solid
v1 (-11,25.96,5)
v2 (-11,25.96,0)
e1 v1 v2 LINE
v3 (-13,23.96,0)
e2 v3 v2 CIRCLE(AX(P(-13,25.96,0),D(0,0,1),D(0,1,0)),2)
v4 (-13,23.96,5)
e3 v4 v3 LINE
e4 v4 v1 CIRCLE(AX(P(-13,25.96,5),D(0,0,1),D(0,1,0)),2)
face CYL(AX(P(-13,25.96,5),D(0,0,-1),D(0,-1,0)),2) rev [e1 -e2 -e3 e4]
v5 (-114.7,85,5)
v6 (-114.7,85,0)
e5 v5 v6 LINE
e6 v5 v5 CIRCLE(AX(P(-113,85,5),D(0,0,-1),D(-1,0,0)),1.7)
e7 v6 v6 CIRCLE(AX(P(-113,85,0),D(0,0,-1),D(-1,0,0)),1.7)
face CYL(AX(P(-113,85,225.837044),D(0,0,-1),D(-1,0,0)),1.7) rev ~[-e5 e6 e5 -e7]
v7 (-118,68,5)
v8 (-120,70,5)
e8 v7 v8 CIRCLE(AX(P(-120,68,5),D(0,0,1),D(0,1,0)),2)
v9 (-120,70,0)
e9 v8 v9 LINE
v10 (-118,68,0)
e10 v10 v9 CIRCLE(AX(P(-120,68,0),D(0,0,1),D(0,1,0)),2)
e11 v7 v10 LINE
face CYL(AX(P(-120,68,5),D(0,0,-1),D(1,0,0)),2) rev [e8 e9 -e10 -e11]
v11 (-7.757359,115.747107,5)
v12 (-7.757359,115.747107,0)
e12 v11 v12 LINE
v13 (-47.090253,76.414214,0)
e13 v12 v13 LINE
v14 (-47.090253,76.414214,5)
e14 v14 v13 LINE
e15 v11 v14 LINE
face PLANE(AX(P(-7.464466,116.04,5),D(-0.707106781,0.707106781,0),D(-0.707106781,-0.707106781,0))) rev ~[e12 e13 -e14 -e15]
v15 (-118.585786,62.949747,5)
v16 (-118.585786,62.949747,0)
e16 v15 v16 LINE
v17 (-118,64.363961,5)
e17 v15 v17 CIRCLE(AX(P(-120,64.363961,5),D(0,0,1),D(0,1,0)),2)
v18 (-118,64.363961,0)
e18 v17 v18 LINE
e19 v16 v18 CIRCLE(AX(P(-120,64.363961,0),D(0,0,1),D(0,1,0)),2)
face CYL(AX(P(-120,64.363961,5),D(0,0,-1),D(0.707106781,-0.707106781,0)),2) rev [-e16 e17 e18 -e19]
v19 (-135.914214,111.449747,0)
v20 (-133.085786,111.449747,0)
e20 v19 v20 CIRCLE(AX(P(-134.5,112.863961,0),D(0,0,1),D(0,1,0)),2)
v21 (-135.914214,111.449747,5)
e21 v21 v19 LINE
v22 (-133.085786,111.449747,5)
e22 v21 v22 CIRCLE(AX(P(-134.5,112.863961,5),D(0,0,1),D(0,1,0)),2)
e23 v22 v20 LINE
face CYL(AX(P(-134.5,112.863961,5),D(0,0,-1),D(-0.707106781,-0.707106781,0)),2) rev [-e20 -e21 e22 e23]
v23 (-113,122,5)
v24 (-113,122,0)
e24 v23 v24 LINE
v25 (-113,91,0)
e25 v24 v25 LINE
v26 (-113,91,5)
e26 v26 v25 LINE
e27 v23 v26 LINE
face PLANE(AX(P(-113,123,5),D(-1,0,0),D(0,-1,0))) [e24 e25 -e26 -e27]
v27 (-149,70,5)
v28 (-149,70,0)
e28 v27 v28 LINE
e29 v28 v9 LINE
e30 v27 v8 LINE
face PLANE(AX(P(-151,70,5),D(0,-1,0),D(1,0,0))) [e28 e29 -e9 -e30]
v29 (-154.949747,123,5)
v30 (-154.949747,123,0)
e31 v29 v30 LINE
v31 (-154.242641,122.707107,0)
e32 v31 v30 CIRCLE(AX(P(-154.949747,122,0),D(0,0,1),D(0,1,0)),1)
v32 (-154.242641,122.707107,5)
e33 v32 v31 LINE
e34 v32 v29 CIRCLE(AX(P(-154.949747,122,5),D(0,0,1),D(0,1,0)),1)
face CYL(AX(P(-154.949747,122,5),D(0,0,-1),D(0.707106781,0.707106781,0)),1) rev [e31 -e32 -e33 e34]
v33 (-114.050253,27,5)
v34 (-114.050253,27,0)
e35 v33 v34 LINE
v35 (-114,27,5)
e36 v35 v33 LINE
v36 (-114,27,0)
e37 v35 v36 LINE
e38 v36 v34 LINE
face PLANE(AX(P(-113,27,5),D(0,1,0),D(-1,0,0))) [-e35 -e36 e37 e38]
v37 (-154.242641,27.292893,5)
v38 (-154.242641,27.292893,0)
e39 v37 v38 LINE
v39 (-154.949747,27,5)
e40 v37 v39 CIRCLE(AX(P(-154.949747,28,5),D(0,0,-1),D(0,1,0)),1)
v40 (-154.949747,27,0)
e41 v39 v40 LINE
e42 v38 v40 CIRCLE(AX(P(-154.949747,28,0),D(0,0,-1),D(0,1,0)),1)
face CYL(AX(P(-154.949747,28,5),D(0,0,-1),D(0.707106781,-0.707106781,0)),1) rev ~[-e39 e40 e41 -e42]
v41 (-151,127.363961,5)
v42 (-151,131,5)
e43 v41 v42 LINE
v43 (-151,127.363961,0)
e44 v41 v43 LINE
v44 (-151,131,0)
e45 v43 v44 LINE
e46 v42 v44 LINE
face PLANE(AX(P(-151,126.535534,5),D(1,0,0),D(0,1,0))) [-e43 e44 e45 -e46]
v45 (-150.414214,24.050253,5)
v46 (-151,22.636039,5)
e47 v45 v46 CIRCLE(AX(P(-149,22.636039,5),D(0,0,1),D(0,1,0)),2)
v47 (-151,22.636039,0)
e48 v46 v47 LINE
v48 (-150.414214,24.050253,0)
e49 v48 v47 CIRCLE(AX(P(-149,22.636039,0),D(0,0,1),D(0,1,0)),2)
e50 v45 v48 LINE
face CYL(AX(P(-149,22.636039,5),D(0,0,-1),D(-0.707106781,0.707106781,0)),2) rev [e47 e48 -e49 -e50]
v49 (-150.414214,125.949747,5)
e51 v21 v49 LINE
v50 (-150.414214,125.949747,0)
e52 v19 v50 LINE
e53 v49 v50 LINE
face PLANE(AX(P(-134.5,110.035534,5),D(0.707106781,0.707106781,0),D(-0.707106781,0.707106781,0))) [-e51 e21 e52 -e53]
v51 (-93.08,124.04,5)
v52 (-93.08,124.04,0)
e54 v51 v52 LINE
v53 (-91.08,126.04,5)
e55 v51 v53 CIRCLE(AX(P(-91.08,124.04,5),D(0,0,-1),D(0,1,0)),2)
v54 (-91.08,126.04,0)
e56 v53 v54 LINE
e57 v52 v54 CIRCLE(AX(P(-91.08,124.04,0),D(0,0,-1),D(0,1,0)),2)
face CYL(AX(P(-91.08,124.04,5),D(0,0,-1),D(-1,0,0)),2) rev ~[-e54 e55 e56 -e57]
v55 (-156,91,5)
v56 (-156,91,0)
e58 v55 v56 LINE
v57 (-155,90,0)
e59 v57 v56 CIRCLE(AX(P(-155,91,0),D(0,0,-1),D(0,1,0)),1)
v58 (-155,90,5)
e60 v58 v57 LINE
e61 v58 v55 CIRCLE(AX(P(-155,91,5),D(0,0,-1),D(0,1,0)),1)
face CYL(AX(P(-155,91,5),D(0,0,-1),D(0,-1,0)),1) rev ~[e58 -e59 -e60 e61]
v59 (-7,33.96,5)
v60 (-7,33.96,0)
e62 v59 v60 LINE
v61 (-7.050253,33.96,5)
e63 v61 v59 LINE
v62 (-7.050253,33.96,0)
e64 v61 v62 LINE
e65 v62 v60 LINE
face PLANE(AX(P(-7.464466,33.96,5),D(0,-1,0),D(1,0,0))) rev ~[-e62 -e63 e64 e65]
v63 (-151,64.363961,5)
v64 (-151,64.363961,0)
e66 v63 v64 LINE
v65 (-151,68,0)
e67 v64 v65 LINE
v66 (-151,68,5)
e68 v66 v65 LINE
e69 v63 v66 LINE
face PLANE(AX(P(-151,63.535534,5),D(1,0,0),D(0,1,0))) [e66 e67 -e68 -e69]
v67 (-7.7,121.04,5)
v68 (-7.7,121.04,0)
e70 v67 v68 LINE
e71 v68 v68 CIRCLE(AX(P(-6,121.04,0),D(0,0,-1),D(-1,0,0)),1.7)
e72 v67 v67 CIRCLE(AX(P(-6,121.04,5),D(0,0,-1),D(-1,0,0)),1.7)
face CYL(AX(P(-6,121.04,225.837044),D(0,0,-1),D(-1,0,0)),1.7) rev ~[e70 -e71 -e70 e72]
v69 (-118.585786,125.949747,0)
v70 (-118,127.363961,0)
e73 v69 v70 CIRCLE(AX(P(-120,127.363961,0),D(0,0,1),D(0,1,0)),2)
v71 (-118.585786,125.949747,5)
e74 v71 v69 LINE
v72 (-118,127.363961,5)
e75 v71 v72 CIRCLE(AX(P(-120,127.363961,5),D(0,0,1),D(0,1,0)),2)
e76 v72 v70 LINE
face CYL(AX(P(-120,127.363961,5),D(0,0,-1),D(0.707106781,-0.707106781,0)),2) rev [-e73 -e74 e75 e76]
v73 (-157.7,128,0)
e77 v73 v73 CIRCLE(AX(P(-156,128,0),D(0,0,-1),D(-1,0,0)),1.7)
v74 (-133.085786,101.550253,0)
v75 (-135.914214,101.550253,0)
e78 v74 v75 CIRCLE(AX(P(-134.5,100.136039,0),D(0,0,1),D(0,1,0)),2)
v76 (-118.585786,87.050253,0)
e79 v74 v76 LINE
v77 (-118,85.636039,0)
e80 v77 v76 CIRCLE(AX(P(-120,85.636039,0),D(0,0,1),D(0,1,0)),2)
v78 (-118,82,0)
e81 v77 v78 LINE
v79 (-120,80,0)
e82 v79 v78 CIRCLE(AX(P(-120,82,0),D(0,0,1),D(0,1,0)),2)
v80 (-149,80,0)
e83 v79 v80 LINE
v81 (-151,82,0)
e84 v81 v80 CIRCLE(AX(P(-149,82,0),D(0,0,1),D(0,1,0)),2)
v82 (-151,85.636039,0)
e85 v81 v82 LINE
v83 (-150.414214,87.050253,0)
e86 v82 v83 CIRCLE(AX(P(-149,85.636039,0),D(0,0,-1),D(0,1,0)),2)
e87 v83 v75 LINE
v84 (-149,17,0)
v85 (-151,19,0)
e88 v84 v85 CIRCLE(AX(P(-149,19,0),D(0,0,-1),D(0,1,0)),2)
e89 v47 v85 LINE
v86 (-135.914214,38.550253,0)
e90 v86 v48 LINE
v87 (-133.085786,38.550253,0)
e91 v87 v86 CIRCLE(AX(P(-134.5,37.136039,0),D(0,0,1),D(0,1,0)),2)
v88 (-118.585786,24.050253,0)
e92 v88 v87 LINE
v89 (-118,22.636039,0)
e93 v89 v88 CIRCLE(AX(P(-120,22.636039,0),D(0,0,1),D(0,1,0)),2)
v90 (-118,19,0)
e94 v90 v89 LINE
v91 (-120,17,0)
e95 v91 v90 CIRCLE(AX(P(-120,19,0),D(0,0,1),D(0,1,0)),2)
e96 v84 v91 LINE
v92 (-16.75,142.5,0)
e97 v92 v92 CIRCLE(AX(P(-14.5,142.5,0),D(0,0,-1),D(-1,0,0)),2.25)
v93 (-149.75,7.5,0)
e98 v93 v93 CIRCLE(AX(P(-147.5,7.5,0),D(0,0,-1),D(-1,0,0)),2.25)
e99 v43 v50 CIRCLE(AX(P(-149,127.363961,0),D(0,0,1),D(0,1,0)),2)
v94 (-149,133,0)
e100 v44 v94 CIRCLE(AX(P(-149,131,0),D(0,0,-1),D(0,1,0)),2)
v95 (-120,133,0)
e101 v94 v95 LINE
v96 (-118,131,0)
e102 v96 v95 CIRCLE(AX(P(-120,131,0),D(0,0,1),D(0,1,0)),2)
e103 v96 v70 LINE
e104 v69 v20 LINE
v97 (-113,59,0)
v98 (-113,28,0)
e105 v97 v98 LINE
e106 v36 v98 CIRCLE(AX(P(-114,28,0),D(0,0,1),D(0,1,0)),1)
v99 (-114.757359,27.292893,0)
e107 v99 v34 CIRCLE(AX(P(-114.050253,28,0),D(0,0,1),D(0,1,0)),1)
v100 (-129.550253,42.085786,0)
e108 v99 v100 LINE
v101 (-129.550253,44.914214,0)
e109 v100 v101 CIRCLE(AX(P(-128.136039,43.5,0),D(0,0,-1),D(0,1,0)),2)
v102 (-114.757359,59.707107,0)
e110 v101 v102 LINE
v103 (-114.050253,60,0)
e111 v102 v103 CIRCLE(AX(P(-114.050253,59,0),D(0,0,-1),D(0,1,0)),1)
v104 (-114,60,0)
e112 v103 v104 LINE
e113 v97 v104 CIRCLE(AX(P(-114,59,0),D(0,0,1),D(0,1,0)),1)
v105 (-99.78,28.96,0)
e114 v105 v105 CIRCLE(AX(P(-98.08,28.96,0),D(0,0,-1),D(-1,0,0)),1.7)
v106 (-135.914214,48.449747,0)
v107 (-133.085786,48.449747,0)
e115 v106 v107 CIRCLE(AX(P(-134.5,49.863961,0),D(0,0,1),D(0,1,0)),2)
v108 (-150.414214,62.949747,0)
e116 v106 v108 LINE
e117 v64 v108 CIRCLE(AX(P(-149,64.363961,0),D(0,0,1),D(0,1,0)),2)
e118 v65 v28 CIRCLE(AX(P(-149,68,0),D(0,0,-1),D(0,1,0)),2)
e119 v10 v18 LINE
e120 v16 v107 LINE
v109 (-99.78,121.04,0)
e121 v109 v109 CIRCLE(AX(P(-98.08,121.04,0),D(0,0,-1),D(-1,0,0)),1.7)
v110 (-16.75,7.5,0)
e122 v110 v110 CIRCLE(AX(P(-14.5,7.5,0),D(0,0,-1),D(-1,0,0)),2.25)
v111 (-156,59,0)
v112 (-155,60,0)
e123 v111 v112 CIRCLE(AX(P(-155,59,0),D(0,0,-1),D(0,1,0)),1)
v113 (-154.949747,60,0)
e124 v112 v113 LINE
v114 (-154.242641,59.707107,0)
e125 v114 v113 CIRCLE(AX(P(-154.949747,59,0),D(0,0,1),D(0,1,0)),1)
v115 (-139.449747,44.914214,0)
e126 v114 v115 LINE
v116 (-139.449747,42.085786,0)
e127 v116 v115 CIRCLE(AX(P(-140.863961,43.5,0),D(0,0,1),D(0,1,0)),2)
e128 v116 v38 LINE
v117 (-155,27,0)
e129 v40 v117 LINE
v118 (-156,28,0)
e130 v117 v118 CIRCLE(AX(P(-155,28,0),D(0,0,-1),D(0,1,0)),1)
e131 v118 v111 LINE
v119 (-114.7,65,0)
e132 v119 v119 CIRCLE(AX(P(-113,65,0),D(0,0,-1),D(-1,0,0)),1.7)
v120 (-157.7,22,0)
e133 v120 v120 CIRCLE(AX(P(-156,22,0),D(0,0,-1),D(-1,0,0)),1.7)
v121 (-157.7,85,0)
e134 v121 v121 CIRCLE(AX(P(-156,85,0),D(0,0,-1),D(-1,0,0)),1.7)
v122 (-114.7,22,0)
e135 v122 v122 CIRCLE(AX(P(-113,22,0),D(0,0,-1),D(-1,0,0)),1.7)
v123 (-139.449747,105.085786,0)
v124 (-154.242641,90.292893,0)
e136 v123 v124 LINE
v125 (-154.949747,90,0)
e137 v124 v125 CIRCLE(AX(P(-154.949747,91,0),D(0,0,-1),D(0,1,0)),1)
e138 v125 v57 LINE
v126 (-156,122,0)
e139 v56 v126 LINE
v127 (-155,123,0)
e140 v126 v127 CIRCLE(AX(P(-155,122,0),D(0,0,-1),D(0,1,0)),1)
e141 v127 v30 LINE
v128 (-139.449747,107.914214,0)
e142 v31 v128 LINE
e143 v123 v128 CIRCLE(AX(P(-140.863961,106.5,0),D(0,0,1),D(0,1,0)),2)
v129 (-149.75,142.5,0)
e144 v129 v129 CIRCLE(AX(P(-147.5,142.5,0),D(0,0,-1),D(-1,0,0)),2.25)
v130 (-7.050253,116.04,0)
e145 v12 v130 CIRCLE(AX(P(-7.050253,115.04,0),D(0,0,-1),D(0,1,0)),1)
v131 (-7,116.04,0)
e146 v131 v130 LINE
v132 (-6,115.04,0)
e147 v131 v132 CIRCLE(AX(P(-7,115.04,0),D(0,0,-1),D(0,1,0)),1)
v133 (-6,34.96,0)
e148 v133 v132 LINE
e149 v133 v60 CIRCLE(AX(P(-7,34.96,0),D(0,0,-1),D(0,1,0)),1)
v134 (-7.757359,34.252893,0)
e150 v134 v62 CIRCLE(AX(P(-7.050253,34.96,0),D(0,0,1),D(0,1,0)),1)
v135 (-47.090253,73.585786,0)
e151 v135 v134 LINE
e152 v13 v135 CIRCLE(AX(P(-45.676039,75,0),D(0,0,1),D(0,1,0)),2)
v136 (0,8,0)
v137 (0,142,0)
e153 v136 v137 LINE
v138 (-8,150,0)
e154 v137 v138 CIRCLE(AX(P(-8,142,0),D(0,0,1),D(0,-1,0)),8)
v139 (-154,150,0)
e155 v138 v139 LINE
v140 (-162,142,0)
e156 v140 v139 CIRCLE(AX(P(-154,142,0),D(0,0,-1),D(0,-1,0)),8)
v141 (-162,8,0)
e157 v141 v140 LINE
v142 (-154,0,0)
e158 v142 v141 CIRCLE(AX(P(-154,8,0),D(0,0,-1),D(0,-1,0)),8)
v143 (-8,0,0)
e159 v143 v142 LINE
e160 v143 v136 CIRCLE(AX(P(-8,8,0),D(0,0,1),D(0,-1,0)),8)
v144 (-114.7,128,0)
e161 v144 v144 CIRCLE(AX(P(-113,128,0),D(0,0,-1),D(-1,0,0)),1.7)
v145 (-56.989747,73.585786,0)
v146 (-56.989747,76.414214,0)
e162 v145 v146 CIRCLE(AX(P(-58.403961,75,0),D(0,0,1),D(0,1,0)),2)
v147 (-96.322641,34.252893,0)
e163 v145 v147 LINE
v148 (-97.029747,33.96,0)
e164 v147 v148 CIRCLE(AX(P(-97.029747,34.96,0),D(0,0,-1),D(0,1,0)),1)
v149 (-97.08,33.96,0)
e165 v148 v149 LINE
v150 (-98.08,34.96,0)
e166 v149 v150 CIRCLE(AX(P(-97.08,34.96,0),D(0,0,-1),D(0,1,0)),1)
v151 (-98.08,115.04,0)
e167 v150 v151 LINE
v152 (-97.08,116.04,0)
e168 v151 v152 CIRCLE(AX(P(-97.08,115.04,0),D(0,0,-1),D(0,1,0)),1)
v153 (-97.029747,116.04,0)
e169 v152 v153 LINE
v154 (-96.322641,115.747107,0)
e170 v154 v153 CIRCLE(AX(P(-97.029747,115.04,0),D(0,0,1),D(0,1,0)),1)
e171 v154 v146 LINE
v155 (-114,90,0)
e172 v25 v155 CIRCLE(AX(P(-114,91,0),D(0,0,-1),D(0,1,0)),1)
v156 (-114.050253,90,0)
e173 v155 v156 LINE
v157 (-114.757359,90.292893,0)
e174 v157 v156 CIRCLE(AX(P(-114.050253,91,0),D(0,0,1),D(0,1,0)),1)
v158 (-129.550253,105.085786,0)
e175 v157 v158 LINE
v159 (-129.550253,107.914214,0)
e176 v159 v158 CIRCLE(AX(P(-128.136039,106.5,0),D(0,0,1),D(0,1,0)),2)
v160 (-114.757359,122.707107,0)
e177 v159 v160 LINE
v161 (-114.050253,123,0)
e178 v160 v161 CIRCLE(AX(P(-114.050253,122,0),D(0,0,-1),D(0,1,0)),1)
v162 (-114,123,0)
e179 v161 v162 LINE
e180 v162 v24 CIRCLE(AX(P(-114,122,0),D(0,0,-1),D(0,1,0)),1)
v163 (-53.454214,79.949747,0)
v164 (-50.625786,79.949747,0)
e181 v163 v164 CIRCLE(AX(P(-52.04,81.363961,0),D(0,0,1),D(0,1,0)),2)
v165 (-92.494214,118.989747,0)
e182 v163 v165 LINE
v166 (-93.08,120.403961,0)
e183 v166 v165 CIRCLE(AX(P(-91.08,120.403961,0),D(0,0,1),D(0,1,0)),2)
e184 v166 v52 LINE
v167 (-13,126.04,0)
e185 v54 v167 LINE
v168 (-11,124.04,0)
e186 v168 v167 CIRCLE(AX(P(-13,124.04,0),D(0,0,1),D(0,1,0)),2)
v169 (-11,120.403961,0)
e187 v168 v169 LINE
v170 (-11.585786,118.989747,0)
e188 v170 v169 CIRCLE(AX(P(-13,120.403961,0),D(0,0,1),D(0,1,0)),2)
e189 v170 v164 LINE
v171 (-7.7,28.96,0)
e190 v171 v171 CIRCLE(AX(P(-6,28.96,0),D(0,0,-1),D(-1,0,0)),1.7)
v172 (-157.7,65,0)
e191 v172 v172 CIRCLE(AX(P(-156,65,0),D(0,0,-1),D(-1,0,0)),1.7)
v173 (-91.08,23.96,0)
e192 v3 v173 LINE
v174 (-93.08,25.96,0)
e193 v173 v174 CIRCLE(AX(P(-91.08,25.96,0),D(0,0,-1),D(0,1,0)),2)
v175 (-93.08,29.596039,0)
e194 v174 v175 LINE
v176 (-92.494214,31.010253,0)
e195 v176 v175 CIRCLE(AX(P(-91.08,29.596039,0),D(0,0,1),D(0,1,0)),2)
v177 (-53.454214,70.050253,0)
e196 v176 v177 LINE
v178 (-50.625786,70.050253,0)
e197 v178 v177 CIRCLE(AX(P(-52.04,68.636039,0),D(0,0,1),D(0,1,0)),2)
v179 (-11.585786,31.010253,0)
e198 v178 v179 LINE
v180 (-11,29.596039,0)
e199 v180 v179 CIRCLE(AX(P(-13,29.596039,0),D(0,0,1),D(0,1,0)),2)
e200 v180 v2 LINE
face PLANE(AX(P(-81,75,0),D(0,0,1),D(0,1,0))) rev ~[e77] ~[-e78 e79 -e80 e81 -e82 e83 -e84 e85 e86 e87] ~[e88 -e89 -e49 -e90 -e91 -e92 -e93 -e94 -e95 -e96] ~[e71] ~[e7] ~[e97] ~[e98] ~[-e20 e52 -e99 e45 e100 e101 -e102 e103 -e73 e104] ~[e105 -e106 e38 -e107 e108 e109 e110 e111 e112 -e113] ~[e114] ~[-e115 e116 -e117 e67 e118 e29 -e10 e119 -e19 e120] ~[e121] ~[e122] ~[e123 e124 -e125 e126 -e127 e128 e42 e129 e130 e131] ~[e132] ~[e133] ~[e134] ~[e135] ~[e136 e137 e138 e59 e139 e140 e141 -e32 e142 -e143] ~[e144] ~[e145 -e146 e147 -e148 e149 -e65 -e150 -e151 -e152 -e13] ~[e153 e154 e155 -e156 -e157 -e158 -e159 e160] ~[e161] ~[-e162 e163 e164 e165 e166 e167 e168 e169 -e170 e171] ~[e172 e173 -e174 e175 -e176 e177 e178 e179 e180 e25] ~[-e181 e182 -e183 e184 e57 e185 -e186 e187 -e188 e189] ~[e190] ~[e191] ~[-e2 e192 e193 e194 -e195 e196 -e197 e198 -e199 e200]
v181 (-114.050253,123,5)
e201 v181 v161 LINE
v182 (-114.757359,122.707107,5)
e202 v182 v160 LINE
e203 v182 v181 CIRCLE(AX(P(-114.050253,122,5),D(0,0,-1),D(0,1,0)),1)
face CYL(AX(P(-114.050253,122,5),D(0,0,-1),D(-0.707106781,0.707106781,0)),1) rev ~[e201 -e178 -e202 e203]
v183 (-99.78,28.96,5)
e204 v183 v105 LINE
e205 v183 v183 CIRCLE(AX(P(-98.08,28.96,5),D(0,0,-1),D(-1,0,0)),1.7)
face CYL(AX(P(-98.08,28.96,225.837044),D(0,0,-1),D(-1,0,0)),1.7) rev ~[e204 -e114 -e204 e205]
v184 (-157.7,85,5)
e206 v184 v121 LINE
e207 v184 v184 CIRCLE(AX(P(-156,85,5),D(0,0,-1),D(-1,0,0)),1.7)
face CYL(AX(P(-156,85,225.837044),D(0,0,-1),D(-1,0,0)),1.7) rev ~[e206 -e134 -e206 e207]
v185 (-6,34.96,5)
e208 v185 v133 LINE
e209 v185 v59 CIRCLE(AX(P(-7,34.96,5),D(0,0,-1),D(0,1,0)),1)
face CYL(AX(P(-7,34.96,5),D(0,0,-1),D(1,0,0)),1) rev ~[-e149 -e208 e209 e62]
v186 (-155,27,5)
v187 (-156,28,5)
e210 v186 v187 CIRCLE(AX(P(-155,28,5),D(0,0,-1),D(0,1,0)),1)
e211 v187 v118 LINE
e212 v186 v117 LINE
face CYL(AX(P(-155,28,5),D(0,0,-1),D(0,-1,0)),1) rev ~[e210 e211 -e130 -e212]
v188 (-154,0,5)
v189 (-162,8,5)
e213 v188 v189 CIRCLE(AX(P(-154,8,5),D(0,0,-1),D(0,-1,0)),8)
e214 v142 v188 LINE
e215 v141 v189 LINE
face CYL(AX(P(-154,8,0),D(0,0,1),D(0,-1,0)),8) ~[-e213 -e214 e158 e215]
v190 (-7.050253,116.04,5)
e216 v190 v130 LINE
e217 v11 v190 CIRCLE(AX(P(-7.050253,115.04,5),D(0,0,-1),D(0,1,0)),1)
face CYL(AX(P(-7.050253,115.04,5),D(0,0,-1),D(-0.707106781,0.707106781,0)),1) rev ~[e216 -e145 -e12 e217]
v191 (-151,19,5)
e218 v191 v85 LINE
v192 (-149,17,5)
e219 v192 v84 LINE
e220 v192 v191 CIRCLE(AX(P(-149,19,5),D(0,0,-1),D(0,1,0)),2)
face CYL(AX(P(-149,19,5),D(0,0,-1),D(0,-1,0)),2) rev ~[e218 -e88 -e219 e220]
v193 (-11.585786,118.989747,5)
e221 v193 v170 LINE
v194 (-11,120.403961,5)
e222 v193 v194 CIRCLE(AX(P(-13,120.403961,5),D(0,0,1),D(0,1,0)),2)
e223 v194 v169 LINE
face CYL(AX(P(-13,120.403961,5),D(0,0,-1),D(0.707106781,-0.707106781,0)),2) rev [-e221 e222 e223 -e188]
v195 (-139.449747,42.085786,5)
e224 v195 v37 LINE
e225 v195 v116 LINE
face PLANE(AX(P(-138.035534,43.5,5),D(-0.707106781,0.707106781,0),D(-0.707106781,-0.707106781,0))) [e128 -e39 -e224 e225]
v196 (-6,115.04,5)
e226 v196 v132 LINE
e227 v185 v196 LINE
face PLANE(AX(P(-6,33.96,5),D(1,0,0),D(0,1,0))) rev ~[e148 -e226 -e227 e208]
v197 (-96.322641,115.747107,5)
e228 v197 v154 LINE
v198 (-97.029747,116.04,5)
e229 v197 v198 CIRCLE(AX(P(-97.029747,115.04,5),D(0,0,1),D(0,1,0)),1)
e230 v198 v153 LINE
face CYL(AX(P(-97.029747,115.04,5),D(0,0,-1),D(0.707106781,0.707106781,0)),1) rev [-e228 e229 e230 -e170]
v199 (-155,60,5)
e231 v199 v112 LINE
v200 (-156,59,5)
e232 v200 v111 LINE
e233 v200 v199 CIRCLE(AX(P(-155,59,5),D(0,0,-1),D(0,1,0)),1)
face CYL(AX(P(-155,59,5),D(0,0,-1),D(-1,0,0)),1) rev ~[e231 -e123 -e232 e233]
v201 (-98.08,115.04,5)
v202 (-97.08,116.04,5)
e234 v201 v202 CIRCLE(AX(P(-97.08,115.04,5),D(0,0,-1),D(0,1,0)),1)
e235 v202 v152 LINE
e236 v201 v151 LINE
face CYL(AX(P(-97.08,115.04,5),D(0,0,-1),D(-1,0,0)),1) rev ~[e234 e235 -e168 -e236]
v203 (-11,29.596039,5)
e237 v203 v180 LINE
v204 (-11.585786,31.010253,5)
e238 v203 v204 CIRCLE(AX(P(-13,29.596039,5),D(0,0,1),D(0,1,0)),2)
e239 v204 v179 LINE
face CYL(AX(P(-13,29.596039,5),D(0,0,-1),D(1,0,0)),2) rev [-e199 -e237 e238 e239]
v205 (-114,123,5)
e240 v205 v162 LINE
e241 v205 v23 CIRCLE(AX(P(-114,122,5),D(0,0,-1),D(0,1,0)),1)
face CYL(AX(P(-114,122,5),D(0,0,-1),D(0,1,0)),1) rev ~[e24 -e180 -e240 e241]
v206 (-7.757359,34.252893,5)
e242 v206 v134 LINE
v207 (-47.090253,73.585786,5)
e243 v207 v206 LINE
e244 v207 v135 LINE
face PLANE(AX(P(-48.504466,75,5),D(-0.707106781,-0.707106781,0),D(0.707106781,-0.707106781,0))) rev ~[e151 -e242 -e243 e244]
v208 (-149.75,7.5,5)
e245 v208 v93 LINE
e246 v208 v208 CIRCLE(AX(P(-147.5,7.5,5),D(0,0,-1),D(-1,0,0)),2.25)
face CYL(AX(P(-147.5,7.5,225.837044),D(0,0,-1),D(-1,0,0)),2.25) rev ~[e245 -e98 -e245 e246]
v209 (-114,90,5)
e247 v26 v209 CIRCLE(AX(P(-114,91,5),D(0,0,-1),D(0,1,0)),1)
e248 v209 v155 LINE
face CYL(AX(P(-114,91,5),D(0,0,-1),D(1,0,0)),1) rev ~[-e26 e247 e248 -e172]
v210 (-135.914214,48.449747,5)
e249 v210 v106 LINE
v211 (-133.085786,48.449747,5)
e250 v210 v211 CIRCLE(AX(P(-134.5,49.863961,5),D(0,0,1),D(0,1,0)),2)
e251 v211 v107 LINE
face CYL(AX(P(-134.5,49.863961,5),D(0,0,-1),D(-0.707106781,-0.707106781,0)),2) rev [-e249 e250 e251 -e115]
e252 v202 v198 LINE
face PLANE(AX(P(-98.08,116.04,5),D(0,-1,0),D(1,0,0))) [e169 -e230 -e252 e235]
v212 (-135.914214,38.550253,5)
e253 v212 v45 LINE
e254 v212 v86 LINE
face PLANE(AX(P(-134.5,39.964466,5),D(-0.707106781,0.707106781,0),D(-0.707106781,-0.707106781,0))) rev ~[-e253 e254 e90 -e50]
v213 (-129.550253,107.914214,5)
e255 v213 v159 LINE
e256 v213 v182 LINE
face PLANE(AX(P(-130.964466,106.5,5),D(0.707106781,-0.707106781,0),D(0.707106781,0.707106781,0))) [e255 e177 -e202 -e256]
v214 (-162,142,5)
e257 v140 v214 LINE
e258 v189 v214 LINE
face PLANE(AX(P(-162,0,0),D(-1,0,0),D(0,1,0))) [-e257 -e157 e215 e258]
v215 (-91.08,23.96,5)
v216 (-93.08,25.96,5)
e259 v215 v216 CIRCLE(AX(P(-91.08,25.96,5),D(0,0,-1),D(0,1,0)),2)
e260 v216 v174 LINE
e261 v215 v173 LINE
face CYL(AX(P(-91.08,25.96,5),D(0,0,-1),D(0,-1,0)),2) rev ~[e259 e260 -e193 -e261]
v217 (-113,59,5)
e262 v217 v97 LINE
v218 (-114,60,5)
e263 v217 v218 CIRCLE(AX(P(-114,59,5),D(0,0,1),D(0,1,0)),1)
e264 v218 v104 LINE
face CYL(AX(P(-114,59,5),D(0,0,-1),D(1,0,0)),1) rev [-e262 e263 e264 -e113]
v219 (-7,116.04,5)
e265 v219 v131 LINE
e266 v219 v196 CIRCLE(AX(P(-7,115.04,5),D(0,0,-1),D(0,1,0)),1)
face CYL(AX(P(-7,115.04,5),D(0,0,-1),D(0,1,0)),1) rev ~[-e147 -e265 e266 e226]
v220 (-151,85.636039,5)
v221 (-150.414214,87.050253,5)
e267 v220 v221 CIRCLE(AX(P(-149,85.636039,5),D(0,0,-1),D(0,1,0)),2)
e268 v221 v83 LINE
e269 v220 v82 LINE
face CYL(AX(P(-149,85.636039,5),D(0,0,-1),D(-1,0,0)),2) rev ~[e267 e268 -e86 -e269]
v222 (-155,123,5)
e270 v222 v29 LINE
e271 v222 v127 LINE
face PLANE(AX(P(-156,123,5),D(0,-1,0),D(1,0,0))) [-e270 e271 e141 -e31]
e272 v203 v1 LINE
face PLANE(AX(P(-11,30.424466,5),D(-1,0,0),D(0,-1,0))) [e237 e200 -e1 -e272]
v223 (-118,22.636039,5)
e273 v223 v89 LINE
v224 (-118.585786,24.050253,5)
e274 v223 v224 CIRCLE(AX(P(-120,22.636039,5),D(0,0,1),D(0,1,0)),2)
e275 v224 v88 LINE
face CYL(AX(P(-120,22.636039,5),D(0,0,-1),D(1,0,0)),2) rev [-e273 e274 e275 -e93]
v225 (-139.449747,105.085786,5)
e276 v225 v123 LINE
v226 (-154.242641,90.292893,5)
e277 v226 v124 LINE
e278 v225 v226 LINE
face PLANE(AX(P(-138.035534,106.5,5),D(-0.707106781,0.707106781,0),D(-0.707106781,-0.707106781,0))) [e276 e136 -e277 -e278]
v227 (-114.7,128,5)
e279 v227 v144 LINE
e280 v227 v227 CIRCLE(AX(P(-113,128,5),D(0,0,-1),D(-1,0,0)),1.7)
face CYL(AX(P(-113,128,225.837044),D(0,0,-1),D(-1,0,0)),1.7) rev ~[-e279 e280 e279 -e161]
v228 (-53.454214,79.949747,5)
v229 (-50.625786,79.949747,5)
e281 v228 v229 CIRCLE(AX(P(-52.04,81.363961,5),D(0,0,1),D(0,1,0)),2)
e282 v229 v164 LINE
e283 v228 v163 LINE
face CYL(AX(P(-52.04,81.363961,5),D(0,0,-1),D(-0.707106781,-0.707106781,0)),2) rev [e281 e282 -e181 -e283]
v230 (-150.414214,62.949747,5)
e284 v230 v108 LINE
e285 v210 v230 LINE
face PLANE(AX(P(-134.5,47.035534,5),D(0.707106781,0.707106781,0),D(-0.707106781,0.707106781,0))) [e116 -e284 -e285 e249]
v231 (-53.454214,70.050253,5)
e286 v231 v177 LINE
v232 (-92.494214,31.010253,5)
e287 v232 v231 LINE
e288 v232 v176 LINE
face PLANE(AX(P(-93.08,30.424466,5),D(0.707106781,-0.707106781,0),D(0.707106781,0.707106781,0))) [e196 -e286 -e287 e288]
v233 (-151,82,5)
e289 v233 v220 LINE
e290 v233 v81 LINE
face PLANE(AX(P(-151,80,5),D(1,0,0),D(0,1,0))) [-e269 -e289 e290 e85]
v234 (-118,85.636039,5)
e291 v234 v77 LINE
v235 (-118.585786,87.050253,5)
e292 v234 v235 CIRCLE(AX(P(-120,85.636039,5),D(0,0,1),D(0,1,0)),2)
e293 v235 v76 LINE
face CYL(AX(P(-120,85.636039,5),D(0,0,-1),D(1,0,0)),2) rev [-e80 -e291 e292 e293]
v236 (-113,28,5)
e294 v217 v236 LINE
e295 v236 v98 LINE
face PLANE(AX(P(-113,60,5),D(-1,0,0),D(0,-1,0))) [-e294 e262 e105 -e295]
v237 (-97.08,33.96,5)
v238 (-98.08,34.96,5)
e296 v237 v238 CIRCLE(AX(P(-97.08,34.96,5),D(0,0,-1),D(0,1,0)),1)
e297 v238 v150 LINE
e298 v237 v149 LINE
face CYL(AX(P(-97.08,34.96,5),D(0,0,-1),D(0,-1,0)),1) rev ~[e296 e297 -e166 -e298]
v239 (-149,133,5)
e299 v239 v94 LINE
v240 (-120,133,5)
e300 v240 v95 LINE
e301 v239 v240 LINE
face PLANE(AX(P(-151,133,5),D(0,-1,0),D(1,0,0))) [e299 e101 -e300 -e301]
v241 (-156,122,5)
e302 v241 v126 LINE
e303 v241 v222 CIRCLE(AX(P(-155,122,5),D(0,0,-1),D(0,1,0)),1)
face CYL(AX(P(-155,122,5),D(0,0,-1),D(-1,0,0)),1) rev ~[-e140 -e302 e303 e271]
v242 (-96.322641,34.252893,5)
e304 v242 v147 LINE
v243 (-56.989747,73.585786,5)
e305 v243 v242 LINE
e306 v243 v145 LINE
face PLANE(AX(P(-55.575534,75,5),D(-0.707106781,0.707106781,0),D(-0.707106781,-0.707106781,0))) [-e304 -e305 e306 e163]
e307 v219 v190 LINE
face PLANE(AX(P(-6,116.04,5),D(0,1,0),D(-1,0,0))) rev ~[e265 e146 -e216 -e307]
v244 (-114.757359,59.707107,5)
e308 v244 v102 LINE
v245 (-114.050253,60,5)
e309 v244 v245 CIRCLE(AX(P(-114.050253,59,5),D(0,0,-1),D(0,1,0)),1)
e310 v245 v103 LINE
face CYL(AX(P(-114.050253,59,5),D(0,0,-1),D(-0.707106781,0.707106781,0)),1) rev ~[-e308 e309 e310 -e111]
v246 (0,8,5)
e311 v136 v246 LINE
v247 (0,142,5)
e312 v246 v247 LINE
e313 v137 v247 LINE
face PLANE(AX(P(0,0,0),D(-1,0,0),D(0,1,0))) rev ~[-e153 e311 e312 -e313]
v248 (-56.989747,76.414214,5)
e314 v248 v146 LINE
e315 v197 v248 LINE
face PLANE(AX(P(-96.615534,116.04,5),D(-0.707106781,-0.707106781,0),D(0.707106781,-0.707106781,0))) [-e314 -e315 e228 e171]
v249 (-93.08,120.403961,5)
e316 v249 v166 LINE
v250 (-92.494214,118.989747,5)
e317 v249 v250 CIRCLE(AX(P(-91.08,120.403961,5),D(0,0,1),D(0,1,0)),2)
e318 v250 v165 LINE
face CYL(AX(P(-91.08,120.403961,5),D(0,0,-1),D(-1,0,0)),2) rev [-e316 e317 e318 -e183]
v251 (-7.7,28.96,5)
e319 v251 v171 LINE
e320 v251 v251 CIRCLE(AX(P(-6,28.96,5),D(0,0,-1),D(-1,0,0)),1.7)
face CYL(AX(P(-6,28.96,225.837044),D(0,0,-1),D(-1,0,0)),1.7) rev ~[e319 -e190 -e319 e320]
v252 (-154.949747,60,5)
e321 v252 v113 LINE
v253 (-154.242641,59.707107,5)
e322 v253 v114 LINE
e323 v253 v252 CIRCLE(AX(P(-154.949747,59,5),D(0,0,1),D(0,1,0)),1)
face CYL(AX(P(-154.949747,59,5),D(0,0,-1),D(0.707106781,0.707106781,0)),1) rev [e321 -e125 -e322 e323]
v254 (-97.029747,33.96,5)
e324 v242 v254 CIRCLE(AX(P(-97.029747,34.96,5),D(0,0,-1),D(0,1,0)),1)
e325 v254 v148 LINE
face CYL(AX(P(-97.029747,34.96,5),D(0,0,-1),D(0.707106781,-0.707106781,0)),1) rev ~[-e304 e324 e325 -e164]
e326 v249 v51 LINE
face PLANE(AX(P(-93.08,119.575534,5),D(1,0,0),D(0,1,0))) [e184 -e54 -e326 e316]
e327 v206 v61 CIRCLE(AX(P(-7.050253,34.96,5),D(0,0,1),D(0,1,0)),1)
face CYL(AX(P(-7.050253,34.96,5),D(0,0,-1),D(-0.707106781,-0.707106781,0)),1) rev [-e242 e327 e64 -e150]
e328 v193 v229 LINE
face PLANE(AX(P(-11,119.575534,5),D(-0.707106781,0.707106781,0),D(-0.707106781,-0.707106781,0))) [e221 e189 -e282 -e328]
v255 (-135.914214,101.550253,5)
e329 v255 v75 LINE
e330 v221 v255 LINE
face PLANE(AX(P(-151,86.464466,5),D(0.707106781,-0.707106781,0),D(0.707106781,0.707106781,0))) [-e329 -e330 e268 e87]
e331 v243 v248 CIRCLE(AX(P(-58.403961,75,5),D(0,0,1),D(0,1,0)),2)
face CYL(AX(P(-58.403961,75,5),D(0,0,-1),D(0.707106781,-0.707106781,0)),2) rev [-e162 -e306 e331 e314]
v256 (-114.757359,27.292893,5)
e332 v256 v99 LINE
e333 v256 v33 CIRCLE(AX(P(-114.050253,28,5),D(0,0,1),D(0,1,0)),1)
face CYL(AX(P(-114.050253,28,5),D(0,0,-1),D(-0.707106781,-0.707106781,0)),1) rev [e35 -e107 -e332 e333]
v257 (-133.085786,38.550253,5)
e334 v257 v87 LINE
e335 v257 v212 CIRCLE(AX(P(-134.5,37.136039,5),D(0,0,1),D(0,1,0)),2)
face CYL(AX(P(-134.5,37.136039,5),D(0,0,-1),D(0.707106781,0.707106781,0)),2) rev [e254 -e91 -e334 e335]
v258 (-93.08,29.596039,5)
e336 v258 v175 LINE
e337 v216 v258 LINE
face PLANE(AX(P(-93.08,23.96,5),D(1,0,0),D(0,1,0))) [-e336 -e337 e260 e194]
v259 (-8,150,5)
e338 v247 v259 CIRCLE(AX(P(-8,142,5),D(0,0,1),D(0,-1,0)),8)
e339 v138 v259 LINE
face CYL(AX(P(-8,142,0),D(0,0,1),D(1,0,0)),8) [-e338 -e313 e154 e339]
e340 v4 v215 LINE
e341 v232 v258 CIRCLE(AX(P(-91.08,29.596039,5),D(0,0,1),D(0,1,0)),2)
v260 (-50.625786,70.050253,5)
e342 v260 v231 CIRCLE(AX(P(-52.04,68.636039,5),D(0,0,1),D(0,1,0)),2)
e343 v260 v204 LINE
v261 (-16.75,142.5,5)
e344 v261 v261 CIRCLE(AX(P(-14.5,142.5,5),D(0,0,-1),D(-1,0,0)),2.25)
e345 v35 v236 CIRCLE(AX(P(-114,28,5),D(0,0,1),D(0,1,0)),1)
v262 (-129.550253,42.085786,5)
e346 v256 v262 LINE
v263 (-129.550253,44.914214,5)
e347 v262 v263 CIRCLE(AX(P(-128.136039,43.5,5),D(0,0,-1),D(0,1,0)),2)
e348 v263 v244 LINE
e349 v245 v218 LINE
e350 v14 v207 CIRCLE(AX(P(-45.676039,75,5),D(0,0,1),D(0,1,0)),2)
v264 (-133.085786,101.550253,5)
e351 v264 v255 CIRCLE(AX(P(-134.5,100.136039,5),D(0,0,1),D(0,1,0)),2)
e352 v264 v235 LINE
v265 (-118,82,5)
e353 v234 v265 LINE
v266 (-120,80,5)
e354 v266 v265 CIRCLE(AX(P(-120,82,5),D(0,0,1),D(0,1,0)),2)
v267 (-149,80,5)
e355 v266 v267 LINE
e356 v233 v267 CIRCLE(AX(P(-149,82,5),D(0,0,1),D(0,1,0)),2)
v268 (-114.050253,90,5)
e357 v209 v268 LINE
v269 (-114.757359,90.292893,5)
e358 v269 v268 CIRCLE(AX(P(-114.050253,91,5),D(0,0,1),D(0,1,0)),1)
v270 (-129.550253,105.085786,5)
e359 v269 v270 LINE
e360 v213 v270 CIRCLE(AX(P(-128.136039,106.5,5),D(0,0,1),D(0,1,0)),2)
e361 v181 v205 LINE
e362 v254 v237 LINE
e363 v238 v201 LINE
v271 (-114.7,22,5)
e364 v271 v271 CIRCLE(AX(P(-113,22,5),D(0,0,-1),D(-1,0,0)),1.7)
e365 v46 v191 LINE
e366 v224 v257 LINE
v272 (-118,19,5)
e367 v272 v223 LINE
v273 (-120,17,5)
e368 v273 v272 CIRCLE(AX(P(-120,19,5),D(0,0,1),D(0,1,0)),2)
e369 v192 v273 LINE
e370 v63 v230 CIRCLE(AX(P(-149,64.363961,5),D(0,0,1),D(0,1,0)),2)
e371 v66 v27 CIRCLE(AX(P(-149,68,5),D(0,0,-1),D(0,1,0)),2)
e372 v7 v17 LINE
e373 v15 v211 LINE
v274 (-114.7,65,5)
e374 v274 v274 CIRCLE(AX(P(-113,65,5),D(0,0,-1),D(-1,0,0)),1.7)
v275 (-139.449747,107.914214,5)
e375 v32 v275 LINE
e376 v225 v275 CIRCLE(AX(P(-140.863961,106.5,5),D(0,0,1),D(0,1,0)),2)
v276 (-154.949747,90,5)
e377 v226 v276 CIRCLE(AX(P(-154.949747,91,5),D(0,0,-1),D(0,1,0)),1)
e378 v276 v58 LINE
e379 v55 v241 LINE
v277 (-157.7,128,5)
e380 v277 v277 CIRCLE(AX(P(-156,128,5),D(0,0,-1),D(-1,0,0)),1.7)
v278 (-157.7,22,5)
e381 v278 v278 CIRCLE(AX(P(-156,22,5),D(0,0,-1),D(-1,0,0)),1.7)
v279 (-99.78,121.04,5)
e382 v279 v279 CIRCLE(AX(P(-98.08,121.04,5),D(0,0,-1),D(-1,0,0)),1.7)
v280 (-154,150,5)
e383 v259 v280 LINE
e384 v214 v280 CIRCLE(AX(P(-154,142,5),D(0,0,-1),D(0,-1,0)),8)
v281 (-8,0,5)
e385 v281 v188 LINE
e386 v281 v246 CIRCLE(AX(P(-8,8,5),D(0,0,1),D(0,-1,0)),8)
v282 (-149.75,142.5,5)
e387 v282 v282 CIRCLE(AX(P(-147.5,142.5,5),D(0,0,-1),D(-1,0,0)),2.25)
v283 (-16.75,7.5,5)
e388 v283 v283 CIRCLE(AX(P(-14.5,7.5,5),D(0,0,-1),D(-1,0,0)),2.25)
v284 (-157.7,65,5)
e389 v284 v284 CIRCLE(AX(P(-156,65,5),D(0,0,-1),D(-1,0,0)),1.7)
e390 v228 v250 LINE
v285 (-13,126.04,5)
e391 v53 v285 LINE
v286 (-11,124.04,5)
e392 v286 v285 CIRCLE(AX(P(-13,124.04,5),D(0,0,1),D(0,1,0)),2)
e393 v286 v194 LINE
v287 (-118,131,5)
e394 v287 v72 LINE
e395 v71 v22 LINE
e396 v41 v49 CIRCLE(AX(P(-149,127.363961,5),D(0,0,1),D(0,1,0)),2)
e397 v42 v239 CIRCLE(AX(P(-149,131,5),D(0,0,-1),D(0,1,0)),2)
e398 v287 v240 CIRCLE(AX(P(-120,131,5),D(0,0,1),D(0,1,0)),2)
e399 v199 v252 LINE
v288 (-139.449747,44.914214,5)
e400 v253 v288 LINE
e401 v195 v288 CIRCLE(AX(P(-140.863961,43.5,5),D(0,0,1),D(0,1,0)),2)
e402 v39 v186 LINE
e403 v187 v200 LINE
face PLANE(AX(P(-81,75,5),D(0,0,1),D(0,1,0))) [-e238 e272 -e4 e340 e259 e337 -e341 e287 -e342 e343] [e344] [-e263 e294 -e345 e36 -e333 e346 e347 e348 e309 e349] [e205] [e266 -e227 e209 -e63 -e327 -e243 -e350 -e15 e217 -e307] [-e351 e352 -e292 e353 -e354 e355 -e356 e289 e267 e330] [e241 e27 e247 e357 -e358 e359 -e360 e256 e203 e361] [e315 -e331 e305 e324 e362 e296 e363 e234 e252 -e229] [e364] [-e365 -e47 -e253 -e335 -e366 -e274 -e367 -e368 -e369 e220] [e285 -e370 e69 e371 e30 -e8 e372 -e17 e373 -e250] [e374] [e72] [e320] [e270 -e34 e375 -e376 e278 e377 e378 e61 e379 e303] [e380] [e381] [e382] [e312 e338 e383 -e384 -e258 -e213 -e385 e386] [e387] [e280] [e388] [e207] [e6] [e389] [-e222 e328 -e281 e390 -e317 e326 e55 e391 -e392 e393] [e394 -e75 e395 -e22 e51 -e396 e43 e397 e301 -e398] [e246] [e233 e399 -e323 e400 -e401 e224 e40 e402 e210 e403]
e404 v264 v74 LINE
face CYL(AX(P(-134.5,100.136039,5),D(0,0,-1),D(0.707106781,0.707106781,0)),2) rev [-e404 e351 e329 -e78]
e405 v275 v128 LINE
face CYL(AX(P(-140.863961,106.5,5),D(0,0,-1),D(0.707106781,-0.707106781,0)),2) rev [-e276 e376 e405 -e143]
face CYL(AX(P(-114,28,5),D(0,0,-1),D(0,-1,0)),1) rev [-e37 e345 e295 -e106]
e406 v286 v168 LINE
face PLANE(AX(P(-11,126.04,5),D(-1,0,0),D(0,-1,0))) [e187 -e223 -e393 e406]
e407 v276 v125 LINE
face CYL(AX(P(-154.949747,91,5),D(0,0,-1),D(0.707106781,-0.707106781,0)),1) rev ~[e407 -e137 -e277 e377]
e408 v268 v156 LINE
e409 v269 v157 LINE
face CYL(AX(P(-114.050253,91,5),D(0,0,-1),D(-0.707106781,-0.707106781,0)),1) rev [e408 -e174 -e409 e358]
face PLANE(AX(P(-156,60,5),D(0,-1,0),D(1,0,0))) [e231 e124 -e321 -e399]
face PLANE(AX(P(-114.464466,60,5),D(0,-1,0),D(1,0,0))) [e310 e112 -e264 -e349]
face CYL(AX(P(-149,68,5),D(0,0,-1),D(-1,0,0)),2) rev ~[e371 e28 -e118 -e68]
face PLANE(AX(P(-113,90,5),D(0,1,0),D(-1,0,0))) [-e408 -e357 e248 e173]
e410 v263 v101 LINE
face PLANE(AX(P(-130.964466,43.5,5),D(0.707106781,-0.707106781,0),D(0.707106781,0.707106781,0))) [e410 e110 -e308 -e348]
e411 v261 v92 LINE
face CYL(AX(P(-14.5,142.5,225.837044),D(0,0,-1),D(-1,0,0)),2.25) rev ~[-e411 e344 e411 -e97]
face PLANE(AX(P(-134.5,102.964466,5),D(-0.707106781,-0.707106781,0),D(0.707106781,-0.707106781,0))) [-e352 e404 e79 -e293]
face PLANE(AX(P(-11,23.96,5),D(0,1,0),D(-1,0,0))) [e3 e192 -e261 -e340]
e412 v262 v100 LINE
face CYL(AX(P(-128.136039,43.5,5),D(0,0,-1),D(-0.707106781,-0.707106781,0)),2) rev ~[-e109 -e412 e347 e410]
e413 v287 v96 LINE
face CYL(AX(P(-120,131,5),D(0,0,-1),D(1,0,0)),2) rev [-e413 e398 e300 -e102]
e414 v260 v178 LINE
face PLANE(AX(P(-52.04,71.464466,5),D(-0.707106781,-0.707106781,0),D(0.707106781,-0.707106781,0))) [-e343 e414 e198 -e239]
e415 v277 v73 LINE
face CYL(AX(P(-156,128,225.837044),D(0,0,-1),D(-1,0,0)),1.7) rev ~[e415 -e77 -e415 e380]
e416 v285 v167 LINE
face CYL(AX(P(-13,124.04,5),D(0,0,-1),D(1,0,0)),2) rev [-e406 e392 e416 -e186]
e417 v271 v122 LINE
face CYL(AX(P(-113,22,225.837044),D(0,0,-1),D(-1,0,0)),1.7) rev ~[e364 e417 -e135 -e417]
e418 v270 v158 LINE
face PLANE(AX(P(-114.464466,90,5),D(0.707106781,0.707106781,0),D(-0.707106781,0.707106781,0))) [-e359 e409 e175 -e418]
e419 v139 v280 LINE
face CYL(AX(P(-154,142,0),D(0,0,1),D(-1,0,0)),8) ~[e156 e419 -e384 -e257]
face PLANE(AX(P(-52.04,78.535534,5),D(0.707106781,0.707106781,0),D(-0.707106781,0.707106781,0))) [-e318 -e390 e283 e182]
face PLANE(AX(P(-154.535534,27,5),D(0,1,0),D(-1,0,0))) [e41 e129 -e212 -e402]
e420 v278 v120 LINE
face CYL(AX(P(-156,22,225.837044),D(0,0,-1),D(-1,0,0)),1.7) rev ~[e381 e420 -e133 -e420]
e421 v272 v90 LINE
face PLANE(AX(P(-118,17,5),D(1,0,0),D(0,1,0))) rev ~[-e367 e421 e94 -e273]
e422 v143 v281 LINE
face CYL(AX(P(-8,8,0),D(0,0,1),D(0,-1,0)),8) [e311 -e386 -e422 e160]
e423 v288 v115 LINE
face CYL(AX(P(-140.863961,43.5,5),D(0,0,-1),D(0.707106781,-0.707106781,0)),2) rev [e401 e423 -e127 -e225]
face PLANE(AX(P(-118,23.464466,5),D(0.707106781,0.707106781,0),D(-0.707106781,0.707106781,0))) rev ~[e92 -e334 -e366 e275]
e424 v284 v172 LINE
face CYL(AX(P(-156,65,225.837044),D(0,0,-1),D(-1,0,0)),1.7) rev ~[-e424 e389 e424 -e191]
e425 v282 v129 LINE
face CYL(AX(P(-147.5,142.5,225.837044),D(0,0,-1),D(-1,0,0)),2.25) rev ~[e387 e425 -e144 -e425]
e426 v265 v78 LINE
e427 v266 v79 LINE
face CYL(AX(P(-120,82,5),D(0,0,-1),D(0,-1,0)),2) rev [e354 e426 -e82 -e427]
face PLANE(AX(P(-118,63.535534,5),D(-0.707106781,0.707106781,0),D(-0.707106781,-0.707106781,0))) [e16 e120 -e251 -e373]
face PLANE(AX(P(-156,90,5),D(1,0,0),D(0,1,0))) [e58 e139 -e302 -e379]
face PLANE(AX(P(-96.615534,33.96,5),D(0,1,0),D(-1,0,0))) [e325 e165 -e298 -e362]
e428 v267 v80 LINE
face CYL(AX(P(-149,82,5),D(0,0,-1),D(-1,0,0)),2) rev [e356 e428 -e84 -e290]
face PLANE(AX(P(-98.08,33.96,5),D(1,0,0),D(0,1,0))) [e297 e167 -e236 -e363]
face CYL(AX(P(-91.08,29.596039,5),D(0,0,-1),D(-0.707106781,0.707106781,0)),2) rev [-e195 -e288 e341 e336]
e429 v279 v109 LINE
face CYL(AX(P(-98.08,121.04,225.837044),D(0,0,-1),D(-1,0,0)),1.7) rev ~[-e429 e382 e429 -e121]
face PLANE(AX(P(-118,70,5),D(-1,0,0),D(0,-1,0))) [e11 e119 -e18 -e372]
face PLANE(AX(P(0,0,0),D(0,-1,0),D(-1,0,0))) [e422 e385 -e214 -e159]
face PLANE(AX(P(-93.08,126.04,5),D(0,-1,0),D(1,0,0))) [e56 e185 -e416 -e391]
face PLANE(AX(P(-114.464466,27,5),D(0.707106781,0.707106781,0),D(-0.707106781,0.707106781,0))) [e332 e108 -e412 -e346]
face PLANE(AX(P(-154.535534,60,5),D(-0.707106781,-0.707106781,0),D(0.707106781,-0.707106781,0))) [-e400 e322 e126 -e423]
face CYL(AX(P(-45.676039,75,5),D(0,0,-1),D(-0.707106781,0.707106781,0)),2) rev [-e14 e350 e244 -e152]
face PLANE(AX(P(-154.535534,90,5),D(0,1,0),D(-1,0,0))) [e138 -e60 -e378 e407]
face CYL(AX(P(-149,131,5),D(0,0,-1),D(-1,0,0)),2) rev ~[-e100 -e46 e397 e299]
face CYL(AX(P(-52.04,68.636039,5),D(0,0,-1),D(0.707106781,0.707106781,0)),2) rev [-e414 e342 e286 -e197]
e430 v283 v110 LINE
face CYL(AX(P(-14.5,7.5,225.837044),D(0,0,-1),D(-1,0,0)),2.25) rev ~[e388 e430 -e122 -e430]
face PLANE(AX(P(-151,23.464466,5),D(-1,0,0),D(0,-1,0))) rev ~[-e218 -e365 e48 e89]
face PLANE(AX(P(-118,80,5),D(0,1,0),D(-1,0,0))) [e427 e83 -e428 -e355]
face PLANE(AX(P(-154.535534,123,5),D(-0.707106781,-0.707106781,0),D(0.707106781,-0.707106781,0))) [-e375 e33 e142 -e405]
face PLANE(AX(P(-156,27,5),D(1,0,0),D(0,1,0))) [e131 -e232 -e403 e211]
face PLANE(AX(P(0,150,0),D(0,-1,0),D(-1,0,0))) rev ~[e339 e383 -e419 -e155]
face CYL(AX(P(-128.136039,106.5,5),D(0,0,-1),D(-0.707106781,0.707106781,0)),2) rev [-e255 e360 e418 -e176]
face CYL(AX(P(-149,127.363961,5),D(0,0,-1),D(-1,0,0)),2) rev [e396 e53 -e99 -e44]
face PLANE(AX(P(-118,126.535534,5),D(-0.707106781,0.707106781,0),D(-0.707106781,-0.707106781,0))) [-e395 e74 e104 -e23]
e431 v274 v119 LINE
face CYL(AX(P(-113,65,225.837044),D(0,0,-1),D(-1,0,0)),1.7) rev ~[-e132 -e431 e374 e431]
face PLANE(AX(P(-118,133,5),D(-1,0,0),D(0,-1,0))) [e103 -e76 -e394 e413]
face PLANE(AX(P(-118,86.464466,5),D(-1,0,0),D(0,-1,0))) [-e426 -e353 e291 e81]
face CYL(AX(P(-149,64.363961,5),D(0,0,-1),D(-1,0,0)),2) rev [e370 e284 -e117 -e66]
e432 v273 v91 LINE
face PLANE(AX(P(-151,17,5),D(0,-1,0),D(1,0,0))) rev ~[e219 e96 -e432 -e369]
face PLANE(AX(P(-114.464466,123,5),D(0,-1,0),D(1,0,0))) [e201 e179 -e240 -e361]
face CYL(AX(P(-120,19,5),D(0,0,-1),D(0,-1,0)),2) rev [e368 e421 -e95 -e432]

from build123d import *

# Parameters (mm, degrees)
SKETCH_1_W          = 150
SKETCH_1_H          = 162
EXTRUDE_1_DEPTH     = 5
HOLE_WIZARD_M3_1_D  = 3.4
HOLE_WIZARD_M4_1_D  = 4.5
CUT_EXTRUDE_2_DEPTH = 221.837043994
FILLET_8_R          = 8
FILLET_11_R         = 2
FILLET_13_R         = 1


with BuildPart() as part:
    # ｽｹｯﾁ1 → ﾎﾞｽ - 押し出し1 (new body)
    with BuildSketch(Plane(origin=(0, 0, 0), x_dir=(0, 1, 0), z_dir=(0, 0, 1))):
        with Locations((75, 81)):
            Rectangle(SKETCH_1_W, SKETCH_1_H)
    extrude(amount=EXTRUDE_1_DEPTH)

    # M3 すきま穴1 (through all)
    with Locations(Plane.XY.offset(5)):
        with Locations((-156, 65), (-6, 121.04), (-6, 28.96), (-98.08, 28.96), (-113, 128), (-98.08, 121.04), (-156, 85), (-113, 85), (-156, 128), (-113, 65), (-156, 22), (-113, 22)):
            Hole(HOLE_WIZARD_M3_1_D / 2)

    # M4 すきま穴1 (through all)
    with Locations(Plane.XY.offset(5)):
        with Locations((-147.5, 142.5), (-14.5, 142.5), (-14.5, 7.5), (-147.5, 7.5)):
            Hole(HOLE_WIZARD_M4_1_D / 2)

    # ｽｹｯﾁ6 → ｶｯﾄ - 押し出し2 (cut, through all)
    with BuildSketch(Plane.XY.offset(5)):
        Polygon((-93.08, 23.96), (-93.08, 30.424466094), (-52.04, 71.464466094), (-11, 30.424466094), (-11, 23.96), align=None)
        Polygon((-98.08, 116.04), (-96.615533906, 116.04), (-55.575533906, 75), (-96.615533906, 33.96), (-98.08, 33.96), align=None)
        Polygon((-93.08, 126.04), (-11, 126.04), (-11, 119.575533906), (-52.04, 78.535533906), (-93.08, 119.575533906), align=None)
        Polygon((-151, 133), (-118, 133), (-118, 126.535533906), (-134.5, 110.035533906), (-151, 126.535533906), align=None)
        Polygon((-151, 70), (-118, 70), (-118, 63.535533906), (-134.5, 47.035533906), (-151, 63.535533906), align=None)
        Polygon((-151, 17), (-118, 17), (-118, 23.464466094), (-134.5, 39.964466094), (-151, 23.464466094), align=None)
        Polygon((-154.535533906, 123), (-138.035533906, 106.5), (-154.535533906, 90), (-156, 90), (-156, 123), align=None)
        Polygon((-151, 86.464466094), (-134.5, 102.964466094), (-118, 86.464466094), (-118, 80), (-151, 80), align=None)
        Polygon((-154.535533906, 60), (-138.035533906, 43.5), (-154.535533906, 27), (-156, 27), (-156, 60), align=None)
        Polygon((-114.464466094, 123), (-113, 123), (-113, 90), (-114.464466094, 90), (-130.964466094, 106.5), align=None)
        Polygon((-130.964466094, 43.5), (-114.464466094, 60), (-113, 60), (-113, 27), (-114.464466094, 27), align=None)
        Polygon((-7.464466094, 33.96), (-6, 33.96), (-6, 116.04), (-7.464466094, 116.04), (-48.504466094, 75), align=None)
    extrude(amount=-CUT_EXTRUDE_2_DEPTH, mode=Mode.SUBTRACT)

    # ﾌｨﾚｯﾄ8
    fillet_8_edges = [part.edges().sort_by_distance(p)[0] for p in [
        (-162, 0, 2.5),
        (-162, 150, 2.5),
        (0, 150, 2.5),
        (0, 0, 2.5),
    ]]
    fillet(fillet_8_edges, radius=FILLET_8_R)

    # ﾌｨﾚｯﾄ11
    fillet_11_edges = [part.edges().sort_by_distance(p)[0] for p in [
        (-130.964466094, 43.5, 2.5),
        (-151, 17, 2.5),
        (-151, 23.464466094, 2.5),
        (-134.5, 39.964466094, 2.5),
        (-118, 23.464466094, 2.5),
        (-118, 17, 2.5),
        (-138.035533906, 43.5, 2.5),
        (-55.575533906, 75, 2.5),
        (-151, 80, 2.5),
        (-151, 86.464466094, 2.5),
        (-134.5, 102.964466094, 2.5),
        (-118, 86.464466094, 2.5),
        (-118, 80, 2.5),
        (-138.035533906, 106.5, 2.5),
        (-118, 133, 2.5),
        (-118, 126.535533906, 2.5),
        (-134.5, 110.035533906, 2.5),
        (-151, 126.535533906, 2.5),
        (-151, 133, 2.5),
        (-118, 70, 2.5),
        (-118, 63.535533906, 2.5),
        (-134.5, 47.035533906, 2.5),
        (-151, 63.535533906, 2.5),
        (-151, 70, 2.5),
        (-93.08, 119.575533906, 2.5),
        (-93.08, 126.04, 2.5),
        (-11, 126.04, 2.5),
        (-11, 119.575533906, 2.5),
        (-52.04, 78.535533906, 2.5),
        (-93.08, 30.424466094, 2.5),
        (-52.04, 71.464466094, 2.5),
        (-11, 30.424466094, 2.5),
        (-11, 23.96, 2.5),
        (-93.08, 23.96, 2.5),
        (-48.504466094, 75, 2.5),
        (-130.964466094, 106.5, 2.5),
    ]]
    fillet(fillet_11_edges, radius=FILLET_11_R)

    # ﾌｨﾚｯﾄ13
    fillet_13_edges = [part.edges().sort_by_distance(p)[0] for p in [
        (-113, 27, 2.5),
        (-114.464466094, 27, 2.5),
        (-114.464466094, 60, 2.5),
        (-113, 60, 2.5),
        (-156, 60, 2.5),
        (-154.535533906, 60, 2.5),
        (-154.535533906, 27, 2.5),
        (-156, 27, 2.5),
        (-96.615533906, 33.96, 2.5),
        (-98.08, 33.96, 2.5),
        (-98.08, 116.04, 2.5),
        (-96.615533906, 116.04, 2.5),
        (-156, 90, 2.5),
        (-156, 123, 2.5),
        (-154.535533906, 123, 2.5),
        (-154.535533906, 90, 2.5),
        (-6, 116.04, 2.5),
        (-6, 33.96, 2.5),
        (-7.464466094, 33.96, 2.5),
        (-7.464466094, 116.04, 2.5),
        (-114.464466094, 90, 2.5),
        (-114.464466094, 123, 2.5),
        (-113, 123, 2.5),
        (-113, 90, 2.5),
    ]]
    fillet(fillet_13_edges, radius=FILLET_13_R)


solid = part.part
